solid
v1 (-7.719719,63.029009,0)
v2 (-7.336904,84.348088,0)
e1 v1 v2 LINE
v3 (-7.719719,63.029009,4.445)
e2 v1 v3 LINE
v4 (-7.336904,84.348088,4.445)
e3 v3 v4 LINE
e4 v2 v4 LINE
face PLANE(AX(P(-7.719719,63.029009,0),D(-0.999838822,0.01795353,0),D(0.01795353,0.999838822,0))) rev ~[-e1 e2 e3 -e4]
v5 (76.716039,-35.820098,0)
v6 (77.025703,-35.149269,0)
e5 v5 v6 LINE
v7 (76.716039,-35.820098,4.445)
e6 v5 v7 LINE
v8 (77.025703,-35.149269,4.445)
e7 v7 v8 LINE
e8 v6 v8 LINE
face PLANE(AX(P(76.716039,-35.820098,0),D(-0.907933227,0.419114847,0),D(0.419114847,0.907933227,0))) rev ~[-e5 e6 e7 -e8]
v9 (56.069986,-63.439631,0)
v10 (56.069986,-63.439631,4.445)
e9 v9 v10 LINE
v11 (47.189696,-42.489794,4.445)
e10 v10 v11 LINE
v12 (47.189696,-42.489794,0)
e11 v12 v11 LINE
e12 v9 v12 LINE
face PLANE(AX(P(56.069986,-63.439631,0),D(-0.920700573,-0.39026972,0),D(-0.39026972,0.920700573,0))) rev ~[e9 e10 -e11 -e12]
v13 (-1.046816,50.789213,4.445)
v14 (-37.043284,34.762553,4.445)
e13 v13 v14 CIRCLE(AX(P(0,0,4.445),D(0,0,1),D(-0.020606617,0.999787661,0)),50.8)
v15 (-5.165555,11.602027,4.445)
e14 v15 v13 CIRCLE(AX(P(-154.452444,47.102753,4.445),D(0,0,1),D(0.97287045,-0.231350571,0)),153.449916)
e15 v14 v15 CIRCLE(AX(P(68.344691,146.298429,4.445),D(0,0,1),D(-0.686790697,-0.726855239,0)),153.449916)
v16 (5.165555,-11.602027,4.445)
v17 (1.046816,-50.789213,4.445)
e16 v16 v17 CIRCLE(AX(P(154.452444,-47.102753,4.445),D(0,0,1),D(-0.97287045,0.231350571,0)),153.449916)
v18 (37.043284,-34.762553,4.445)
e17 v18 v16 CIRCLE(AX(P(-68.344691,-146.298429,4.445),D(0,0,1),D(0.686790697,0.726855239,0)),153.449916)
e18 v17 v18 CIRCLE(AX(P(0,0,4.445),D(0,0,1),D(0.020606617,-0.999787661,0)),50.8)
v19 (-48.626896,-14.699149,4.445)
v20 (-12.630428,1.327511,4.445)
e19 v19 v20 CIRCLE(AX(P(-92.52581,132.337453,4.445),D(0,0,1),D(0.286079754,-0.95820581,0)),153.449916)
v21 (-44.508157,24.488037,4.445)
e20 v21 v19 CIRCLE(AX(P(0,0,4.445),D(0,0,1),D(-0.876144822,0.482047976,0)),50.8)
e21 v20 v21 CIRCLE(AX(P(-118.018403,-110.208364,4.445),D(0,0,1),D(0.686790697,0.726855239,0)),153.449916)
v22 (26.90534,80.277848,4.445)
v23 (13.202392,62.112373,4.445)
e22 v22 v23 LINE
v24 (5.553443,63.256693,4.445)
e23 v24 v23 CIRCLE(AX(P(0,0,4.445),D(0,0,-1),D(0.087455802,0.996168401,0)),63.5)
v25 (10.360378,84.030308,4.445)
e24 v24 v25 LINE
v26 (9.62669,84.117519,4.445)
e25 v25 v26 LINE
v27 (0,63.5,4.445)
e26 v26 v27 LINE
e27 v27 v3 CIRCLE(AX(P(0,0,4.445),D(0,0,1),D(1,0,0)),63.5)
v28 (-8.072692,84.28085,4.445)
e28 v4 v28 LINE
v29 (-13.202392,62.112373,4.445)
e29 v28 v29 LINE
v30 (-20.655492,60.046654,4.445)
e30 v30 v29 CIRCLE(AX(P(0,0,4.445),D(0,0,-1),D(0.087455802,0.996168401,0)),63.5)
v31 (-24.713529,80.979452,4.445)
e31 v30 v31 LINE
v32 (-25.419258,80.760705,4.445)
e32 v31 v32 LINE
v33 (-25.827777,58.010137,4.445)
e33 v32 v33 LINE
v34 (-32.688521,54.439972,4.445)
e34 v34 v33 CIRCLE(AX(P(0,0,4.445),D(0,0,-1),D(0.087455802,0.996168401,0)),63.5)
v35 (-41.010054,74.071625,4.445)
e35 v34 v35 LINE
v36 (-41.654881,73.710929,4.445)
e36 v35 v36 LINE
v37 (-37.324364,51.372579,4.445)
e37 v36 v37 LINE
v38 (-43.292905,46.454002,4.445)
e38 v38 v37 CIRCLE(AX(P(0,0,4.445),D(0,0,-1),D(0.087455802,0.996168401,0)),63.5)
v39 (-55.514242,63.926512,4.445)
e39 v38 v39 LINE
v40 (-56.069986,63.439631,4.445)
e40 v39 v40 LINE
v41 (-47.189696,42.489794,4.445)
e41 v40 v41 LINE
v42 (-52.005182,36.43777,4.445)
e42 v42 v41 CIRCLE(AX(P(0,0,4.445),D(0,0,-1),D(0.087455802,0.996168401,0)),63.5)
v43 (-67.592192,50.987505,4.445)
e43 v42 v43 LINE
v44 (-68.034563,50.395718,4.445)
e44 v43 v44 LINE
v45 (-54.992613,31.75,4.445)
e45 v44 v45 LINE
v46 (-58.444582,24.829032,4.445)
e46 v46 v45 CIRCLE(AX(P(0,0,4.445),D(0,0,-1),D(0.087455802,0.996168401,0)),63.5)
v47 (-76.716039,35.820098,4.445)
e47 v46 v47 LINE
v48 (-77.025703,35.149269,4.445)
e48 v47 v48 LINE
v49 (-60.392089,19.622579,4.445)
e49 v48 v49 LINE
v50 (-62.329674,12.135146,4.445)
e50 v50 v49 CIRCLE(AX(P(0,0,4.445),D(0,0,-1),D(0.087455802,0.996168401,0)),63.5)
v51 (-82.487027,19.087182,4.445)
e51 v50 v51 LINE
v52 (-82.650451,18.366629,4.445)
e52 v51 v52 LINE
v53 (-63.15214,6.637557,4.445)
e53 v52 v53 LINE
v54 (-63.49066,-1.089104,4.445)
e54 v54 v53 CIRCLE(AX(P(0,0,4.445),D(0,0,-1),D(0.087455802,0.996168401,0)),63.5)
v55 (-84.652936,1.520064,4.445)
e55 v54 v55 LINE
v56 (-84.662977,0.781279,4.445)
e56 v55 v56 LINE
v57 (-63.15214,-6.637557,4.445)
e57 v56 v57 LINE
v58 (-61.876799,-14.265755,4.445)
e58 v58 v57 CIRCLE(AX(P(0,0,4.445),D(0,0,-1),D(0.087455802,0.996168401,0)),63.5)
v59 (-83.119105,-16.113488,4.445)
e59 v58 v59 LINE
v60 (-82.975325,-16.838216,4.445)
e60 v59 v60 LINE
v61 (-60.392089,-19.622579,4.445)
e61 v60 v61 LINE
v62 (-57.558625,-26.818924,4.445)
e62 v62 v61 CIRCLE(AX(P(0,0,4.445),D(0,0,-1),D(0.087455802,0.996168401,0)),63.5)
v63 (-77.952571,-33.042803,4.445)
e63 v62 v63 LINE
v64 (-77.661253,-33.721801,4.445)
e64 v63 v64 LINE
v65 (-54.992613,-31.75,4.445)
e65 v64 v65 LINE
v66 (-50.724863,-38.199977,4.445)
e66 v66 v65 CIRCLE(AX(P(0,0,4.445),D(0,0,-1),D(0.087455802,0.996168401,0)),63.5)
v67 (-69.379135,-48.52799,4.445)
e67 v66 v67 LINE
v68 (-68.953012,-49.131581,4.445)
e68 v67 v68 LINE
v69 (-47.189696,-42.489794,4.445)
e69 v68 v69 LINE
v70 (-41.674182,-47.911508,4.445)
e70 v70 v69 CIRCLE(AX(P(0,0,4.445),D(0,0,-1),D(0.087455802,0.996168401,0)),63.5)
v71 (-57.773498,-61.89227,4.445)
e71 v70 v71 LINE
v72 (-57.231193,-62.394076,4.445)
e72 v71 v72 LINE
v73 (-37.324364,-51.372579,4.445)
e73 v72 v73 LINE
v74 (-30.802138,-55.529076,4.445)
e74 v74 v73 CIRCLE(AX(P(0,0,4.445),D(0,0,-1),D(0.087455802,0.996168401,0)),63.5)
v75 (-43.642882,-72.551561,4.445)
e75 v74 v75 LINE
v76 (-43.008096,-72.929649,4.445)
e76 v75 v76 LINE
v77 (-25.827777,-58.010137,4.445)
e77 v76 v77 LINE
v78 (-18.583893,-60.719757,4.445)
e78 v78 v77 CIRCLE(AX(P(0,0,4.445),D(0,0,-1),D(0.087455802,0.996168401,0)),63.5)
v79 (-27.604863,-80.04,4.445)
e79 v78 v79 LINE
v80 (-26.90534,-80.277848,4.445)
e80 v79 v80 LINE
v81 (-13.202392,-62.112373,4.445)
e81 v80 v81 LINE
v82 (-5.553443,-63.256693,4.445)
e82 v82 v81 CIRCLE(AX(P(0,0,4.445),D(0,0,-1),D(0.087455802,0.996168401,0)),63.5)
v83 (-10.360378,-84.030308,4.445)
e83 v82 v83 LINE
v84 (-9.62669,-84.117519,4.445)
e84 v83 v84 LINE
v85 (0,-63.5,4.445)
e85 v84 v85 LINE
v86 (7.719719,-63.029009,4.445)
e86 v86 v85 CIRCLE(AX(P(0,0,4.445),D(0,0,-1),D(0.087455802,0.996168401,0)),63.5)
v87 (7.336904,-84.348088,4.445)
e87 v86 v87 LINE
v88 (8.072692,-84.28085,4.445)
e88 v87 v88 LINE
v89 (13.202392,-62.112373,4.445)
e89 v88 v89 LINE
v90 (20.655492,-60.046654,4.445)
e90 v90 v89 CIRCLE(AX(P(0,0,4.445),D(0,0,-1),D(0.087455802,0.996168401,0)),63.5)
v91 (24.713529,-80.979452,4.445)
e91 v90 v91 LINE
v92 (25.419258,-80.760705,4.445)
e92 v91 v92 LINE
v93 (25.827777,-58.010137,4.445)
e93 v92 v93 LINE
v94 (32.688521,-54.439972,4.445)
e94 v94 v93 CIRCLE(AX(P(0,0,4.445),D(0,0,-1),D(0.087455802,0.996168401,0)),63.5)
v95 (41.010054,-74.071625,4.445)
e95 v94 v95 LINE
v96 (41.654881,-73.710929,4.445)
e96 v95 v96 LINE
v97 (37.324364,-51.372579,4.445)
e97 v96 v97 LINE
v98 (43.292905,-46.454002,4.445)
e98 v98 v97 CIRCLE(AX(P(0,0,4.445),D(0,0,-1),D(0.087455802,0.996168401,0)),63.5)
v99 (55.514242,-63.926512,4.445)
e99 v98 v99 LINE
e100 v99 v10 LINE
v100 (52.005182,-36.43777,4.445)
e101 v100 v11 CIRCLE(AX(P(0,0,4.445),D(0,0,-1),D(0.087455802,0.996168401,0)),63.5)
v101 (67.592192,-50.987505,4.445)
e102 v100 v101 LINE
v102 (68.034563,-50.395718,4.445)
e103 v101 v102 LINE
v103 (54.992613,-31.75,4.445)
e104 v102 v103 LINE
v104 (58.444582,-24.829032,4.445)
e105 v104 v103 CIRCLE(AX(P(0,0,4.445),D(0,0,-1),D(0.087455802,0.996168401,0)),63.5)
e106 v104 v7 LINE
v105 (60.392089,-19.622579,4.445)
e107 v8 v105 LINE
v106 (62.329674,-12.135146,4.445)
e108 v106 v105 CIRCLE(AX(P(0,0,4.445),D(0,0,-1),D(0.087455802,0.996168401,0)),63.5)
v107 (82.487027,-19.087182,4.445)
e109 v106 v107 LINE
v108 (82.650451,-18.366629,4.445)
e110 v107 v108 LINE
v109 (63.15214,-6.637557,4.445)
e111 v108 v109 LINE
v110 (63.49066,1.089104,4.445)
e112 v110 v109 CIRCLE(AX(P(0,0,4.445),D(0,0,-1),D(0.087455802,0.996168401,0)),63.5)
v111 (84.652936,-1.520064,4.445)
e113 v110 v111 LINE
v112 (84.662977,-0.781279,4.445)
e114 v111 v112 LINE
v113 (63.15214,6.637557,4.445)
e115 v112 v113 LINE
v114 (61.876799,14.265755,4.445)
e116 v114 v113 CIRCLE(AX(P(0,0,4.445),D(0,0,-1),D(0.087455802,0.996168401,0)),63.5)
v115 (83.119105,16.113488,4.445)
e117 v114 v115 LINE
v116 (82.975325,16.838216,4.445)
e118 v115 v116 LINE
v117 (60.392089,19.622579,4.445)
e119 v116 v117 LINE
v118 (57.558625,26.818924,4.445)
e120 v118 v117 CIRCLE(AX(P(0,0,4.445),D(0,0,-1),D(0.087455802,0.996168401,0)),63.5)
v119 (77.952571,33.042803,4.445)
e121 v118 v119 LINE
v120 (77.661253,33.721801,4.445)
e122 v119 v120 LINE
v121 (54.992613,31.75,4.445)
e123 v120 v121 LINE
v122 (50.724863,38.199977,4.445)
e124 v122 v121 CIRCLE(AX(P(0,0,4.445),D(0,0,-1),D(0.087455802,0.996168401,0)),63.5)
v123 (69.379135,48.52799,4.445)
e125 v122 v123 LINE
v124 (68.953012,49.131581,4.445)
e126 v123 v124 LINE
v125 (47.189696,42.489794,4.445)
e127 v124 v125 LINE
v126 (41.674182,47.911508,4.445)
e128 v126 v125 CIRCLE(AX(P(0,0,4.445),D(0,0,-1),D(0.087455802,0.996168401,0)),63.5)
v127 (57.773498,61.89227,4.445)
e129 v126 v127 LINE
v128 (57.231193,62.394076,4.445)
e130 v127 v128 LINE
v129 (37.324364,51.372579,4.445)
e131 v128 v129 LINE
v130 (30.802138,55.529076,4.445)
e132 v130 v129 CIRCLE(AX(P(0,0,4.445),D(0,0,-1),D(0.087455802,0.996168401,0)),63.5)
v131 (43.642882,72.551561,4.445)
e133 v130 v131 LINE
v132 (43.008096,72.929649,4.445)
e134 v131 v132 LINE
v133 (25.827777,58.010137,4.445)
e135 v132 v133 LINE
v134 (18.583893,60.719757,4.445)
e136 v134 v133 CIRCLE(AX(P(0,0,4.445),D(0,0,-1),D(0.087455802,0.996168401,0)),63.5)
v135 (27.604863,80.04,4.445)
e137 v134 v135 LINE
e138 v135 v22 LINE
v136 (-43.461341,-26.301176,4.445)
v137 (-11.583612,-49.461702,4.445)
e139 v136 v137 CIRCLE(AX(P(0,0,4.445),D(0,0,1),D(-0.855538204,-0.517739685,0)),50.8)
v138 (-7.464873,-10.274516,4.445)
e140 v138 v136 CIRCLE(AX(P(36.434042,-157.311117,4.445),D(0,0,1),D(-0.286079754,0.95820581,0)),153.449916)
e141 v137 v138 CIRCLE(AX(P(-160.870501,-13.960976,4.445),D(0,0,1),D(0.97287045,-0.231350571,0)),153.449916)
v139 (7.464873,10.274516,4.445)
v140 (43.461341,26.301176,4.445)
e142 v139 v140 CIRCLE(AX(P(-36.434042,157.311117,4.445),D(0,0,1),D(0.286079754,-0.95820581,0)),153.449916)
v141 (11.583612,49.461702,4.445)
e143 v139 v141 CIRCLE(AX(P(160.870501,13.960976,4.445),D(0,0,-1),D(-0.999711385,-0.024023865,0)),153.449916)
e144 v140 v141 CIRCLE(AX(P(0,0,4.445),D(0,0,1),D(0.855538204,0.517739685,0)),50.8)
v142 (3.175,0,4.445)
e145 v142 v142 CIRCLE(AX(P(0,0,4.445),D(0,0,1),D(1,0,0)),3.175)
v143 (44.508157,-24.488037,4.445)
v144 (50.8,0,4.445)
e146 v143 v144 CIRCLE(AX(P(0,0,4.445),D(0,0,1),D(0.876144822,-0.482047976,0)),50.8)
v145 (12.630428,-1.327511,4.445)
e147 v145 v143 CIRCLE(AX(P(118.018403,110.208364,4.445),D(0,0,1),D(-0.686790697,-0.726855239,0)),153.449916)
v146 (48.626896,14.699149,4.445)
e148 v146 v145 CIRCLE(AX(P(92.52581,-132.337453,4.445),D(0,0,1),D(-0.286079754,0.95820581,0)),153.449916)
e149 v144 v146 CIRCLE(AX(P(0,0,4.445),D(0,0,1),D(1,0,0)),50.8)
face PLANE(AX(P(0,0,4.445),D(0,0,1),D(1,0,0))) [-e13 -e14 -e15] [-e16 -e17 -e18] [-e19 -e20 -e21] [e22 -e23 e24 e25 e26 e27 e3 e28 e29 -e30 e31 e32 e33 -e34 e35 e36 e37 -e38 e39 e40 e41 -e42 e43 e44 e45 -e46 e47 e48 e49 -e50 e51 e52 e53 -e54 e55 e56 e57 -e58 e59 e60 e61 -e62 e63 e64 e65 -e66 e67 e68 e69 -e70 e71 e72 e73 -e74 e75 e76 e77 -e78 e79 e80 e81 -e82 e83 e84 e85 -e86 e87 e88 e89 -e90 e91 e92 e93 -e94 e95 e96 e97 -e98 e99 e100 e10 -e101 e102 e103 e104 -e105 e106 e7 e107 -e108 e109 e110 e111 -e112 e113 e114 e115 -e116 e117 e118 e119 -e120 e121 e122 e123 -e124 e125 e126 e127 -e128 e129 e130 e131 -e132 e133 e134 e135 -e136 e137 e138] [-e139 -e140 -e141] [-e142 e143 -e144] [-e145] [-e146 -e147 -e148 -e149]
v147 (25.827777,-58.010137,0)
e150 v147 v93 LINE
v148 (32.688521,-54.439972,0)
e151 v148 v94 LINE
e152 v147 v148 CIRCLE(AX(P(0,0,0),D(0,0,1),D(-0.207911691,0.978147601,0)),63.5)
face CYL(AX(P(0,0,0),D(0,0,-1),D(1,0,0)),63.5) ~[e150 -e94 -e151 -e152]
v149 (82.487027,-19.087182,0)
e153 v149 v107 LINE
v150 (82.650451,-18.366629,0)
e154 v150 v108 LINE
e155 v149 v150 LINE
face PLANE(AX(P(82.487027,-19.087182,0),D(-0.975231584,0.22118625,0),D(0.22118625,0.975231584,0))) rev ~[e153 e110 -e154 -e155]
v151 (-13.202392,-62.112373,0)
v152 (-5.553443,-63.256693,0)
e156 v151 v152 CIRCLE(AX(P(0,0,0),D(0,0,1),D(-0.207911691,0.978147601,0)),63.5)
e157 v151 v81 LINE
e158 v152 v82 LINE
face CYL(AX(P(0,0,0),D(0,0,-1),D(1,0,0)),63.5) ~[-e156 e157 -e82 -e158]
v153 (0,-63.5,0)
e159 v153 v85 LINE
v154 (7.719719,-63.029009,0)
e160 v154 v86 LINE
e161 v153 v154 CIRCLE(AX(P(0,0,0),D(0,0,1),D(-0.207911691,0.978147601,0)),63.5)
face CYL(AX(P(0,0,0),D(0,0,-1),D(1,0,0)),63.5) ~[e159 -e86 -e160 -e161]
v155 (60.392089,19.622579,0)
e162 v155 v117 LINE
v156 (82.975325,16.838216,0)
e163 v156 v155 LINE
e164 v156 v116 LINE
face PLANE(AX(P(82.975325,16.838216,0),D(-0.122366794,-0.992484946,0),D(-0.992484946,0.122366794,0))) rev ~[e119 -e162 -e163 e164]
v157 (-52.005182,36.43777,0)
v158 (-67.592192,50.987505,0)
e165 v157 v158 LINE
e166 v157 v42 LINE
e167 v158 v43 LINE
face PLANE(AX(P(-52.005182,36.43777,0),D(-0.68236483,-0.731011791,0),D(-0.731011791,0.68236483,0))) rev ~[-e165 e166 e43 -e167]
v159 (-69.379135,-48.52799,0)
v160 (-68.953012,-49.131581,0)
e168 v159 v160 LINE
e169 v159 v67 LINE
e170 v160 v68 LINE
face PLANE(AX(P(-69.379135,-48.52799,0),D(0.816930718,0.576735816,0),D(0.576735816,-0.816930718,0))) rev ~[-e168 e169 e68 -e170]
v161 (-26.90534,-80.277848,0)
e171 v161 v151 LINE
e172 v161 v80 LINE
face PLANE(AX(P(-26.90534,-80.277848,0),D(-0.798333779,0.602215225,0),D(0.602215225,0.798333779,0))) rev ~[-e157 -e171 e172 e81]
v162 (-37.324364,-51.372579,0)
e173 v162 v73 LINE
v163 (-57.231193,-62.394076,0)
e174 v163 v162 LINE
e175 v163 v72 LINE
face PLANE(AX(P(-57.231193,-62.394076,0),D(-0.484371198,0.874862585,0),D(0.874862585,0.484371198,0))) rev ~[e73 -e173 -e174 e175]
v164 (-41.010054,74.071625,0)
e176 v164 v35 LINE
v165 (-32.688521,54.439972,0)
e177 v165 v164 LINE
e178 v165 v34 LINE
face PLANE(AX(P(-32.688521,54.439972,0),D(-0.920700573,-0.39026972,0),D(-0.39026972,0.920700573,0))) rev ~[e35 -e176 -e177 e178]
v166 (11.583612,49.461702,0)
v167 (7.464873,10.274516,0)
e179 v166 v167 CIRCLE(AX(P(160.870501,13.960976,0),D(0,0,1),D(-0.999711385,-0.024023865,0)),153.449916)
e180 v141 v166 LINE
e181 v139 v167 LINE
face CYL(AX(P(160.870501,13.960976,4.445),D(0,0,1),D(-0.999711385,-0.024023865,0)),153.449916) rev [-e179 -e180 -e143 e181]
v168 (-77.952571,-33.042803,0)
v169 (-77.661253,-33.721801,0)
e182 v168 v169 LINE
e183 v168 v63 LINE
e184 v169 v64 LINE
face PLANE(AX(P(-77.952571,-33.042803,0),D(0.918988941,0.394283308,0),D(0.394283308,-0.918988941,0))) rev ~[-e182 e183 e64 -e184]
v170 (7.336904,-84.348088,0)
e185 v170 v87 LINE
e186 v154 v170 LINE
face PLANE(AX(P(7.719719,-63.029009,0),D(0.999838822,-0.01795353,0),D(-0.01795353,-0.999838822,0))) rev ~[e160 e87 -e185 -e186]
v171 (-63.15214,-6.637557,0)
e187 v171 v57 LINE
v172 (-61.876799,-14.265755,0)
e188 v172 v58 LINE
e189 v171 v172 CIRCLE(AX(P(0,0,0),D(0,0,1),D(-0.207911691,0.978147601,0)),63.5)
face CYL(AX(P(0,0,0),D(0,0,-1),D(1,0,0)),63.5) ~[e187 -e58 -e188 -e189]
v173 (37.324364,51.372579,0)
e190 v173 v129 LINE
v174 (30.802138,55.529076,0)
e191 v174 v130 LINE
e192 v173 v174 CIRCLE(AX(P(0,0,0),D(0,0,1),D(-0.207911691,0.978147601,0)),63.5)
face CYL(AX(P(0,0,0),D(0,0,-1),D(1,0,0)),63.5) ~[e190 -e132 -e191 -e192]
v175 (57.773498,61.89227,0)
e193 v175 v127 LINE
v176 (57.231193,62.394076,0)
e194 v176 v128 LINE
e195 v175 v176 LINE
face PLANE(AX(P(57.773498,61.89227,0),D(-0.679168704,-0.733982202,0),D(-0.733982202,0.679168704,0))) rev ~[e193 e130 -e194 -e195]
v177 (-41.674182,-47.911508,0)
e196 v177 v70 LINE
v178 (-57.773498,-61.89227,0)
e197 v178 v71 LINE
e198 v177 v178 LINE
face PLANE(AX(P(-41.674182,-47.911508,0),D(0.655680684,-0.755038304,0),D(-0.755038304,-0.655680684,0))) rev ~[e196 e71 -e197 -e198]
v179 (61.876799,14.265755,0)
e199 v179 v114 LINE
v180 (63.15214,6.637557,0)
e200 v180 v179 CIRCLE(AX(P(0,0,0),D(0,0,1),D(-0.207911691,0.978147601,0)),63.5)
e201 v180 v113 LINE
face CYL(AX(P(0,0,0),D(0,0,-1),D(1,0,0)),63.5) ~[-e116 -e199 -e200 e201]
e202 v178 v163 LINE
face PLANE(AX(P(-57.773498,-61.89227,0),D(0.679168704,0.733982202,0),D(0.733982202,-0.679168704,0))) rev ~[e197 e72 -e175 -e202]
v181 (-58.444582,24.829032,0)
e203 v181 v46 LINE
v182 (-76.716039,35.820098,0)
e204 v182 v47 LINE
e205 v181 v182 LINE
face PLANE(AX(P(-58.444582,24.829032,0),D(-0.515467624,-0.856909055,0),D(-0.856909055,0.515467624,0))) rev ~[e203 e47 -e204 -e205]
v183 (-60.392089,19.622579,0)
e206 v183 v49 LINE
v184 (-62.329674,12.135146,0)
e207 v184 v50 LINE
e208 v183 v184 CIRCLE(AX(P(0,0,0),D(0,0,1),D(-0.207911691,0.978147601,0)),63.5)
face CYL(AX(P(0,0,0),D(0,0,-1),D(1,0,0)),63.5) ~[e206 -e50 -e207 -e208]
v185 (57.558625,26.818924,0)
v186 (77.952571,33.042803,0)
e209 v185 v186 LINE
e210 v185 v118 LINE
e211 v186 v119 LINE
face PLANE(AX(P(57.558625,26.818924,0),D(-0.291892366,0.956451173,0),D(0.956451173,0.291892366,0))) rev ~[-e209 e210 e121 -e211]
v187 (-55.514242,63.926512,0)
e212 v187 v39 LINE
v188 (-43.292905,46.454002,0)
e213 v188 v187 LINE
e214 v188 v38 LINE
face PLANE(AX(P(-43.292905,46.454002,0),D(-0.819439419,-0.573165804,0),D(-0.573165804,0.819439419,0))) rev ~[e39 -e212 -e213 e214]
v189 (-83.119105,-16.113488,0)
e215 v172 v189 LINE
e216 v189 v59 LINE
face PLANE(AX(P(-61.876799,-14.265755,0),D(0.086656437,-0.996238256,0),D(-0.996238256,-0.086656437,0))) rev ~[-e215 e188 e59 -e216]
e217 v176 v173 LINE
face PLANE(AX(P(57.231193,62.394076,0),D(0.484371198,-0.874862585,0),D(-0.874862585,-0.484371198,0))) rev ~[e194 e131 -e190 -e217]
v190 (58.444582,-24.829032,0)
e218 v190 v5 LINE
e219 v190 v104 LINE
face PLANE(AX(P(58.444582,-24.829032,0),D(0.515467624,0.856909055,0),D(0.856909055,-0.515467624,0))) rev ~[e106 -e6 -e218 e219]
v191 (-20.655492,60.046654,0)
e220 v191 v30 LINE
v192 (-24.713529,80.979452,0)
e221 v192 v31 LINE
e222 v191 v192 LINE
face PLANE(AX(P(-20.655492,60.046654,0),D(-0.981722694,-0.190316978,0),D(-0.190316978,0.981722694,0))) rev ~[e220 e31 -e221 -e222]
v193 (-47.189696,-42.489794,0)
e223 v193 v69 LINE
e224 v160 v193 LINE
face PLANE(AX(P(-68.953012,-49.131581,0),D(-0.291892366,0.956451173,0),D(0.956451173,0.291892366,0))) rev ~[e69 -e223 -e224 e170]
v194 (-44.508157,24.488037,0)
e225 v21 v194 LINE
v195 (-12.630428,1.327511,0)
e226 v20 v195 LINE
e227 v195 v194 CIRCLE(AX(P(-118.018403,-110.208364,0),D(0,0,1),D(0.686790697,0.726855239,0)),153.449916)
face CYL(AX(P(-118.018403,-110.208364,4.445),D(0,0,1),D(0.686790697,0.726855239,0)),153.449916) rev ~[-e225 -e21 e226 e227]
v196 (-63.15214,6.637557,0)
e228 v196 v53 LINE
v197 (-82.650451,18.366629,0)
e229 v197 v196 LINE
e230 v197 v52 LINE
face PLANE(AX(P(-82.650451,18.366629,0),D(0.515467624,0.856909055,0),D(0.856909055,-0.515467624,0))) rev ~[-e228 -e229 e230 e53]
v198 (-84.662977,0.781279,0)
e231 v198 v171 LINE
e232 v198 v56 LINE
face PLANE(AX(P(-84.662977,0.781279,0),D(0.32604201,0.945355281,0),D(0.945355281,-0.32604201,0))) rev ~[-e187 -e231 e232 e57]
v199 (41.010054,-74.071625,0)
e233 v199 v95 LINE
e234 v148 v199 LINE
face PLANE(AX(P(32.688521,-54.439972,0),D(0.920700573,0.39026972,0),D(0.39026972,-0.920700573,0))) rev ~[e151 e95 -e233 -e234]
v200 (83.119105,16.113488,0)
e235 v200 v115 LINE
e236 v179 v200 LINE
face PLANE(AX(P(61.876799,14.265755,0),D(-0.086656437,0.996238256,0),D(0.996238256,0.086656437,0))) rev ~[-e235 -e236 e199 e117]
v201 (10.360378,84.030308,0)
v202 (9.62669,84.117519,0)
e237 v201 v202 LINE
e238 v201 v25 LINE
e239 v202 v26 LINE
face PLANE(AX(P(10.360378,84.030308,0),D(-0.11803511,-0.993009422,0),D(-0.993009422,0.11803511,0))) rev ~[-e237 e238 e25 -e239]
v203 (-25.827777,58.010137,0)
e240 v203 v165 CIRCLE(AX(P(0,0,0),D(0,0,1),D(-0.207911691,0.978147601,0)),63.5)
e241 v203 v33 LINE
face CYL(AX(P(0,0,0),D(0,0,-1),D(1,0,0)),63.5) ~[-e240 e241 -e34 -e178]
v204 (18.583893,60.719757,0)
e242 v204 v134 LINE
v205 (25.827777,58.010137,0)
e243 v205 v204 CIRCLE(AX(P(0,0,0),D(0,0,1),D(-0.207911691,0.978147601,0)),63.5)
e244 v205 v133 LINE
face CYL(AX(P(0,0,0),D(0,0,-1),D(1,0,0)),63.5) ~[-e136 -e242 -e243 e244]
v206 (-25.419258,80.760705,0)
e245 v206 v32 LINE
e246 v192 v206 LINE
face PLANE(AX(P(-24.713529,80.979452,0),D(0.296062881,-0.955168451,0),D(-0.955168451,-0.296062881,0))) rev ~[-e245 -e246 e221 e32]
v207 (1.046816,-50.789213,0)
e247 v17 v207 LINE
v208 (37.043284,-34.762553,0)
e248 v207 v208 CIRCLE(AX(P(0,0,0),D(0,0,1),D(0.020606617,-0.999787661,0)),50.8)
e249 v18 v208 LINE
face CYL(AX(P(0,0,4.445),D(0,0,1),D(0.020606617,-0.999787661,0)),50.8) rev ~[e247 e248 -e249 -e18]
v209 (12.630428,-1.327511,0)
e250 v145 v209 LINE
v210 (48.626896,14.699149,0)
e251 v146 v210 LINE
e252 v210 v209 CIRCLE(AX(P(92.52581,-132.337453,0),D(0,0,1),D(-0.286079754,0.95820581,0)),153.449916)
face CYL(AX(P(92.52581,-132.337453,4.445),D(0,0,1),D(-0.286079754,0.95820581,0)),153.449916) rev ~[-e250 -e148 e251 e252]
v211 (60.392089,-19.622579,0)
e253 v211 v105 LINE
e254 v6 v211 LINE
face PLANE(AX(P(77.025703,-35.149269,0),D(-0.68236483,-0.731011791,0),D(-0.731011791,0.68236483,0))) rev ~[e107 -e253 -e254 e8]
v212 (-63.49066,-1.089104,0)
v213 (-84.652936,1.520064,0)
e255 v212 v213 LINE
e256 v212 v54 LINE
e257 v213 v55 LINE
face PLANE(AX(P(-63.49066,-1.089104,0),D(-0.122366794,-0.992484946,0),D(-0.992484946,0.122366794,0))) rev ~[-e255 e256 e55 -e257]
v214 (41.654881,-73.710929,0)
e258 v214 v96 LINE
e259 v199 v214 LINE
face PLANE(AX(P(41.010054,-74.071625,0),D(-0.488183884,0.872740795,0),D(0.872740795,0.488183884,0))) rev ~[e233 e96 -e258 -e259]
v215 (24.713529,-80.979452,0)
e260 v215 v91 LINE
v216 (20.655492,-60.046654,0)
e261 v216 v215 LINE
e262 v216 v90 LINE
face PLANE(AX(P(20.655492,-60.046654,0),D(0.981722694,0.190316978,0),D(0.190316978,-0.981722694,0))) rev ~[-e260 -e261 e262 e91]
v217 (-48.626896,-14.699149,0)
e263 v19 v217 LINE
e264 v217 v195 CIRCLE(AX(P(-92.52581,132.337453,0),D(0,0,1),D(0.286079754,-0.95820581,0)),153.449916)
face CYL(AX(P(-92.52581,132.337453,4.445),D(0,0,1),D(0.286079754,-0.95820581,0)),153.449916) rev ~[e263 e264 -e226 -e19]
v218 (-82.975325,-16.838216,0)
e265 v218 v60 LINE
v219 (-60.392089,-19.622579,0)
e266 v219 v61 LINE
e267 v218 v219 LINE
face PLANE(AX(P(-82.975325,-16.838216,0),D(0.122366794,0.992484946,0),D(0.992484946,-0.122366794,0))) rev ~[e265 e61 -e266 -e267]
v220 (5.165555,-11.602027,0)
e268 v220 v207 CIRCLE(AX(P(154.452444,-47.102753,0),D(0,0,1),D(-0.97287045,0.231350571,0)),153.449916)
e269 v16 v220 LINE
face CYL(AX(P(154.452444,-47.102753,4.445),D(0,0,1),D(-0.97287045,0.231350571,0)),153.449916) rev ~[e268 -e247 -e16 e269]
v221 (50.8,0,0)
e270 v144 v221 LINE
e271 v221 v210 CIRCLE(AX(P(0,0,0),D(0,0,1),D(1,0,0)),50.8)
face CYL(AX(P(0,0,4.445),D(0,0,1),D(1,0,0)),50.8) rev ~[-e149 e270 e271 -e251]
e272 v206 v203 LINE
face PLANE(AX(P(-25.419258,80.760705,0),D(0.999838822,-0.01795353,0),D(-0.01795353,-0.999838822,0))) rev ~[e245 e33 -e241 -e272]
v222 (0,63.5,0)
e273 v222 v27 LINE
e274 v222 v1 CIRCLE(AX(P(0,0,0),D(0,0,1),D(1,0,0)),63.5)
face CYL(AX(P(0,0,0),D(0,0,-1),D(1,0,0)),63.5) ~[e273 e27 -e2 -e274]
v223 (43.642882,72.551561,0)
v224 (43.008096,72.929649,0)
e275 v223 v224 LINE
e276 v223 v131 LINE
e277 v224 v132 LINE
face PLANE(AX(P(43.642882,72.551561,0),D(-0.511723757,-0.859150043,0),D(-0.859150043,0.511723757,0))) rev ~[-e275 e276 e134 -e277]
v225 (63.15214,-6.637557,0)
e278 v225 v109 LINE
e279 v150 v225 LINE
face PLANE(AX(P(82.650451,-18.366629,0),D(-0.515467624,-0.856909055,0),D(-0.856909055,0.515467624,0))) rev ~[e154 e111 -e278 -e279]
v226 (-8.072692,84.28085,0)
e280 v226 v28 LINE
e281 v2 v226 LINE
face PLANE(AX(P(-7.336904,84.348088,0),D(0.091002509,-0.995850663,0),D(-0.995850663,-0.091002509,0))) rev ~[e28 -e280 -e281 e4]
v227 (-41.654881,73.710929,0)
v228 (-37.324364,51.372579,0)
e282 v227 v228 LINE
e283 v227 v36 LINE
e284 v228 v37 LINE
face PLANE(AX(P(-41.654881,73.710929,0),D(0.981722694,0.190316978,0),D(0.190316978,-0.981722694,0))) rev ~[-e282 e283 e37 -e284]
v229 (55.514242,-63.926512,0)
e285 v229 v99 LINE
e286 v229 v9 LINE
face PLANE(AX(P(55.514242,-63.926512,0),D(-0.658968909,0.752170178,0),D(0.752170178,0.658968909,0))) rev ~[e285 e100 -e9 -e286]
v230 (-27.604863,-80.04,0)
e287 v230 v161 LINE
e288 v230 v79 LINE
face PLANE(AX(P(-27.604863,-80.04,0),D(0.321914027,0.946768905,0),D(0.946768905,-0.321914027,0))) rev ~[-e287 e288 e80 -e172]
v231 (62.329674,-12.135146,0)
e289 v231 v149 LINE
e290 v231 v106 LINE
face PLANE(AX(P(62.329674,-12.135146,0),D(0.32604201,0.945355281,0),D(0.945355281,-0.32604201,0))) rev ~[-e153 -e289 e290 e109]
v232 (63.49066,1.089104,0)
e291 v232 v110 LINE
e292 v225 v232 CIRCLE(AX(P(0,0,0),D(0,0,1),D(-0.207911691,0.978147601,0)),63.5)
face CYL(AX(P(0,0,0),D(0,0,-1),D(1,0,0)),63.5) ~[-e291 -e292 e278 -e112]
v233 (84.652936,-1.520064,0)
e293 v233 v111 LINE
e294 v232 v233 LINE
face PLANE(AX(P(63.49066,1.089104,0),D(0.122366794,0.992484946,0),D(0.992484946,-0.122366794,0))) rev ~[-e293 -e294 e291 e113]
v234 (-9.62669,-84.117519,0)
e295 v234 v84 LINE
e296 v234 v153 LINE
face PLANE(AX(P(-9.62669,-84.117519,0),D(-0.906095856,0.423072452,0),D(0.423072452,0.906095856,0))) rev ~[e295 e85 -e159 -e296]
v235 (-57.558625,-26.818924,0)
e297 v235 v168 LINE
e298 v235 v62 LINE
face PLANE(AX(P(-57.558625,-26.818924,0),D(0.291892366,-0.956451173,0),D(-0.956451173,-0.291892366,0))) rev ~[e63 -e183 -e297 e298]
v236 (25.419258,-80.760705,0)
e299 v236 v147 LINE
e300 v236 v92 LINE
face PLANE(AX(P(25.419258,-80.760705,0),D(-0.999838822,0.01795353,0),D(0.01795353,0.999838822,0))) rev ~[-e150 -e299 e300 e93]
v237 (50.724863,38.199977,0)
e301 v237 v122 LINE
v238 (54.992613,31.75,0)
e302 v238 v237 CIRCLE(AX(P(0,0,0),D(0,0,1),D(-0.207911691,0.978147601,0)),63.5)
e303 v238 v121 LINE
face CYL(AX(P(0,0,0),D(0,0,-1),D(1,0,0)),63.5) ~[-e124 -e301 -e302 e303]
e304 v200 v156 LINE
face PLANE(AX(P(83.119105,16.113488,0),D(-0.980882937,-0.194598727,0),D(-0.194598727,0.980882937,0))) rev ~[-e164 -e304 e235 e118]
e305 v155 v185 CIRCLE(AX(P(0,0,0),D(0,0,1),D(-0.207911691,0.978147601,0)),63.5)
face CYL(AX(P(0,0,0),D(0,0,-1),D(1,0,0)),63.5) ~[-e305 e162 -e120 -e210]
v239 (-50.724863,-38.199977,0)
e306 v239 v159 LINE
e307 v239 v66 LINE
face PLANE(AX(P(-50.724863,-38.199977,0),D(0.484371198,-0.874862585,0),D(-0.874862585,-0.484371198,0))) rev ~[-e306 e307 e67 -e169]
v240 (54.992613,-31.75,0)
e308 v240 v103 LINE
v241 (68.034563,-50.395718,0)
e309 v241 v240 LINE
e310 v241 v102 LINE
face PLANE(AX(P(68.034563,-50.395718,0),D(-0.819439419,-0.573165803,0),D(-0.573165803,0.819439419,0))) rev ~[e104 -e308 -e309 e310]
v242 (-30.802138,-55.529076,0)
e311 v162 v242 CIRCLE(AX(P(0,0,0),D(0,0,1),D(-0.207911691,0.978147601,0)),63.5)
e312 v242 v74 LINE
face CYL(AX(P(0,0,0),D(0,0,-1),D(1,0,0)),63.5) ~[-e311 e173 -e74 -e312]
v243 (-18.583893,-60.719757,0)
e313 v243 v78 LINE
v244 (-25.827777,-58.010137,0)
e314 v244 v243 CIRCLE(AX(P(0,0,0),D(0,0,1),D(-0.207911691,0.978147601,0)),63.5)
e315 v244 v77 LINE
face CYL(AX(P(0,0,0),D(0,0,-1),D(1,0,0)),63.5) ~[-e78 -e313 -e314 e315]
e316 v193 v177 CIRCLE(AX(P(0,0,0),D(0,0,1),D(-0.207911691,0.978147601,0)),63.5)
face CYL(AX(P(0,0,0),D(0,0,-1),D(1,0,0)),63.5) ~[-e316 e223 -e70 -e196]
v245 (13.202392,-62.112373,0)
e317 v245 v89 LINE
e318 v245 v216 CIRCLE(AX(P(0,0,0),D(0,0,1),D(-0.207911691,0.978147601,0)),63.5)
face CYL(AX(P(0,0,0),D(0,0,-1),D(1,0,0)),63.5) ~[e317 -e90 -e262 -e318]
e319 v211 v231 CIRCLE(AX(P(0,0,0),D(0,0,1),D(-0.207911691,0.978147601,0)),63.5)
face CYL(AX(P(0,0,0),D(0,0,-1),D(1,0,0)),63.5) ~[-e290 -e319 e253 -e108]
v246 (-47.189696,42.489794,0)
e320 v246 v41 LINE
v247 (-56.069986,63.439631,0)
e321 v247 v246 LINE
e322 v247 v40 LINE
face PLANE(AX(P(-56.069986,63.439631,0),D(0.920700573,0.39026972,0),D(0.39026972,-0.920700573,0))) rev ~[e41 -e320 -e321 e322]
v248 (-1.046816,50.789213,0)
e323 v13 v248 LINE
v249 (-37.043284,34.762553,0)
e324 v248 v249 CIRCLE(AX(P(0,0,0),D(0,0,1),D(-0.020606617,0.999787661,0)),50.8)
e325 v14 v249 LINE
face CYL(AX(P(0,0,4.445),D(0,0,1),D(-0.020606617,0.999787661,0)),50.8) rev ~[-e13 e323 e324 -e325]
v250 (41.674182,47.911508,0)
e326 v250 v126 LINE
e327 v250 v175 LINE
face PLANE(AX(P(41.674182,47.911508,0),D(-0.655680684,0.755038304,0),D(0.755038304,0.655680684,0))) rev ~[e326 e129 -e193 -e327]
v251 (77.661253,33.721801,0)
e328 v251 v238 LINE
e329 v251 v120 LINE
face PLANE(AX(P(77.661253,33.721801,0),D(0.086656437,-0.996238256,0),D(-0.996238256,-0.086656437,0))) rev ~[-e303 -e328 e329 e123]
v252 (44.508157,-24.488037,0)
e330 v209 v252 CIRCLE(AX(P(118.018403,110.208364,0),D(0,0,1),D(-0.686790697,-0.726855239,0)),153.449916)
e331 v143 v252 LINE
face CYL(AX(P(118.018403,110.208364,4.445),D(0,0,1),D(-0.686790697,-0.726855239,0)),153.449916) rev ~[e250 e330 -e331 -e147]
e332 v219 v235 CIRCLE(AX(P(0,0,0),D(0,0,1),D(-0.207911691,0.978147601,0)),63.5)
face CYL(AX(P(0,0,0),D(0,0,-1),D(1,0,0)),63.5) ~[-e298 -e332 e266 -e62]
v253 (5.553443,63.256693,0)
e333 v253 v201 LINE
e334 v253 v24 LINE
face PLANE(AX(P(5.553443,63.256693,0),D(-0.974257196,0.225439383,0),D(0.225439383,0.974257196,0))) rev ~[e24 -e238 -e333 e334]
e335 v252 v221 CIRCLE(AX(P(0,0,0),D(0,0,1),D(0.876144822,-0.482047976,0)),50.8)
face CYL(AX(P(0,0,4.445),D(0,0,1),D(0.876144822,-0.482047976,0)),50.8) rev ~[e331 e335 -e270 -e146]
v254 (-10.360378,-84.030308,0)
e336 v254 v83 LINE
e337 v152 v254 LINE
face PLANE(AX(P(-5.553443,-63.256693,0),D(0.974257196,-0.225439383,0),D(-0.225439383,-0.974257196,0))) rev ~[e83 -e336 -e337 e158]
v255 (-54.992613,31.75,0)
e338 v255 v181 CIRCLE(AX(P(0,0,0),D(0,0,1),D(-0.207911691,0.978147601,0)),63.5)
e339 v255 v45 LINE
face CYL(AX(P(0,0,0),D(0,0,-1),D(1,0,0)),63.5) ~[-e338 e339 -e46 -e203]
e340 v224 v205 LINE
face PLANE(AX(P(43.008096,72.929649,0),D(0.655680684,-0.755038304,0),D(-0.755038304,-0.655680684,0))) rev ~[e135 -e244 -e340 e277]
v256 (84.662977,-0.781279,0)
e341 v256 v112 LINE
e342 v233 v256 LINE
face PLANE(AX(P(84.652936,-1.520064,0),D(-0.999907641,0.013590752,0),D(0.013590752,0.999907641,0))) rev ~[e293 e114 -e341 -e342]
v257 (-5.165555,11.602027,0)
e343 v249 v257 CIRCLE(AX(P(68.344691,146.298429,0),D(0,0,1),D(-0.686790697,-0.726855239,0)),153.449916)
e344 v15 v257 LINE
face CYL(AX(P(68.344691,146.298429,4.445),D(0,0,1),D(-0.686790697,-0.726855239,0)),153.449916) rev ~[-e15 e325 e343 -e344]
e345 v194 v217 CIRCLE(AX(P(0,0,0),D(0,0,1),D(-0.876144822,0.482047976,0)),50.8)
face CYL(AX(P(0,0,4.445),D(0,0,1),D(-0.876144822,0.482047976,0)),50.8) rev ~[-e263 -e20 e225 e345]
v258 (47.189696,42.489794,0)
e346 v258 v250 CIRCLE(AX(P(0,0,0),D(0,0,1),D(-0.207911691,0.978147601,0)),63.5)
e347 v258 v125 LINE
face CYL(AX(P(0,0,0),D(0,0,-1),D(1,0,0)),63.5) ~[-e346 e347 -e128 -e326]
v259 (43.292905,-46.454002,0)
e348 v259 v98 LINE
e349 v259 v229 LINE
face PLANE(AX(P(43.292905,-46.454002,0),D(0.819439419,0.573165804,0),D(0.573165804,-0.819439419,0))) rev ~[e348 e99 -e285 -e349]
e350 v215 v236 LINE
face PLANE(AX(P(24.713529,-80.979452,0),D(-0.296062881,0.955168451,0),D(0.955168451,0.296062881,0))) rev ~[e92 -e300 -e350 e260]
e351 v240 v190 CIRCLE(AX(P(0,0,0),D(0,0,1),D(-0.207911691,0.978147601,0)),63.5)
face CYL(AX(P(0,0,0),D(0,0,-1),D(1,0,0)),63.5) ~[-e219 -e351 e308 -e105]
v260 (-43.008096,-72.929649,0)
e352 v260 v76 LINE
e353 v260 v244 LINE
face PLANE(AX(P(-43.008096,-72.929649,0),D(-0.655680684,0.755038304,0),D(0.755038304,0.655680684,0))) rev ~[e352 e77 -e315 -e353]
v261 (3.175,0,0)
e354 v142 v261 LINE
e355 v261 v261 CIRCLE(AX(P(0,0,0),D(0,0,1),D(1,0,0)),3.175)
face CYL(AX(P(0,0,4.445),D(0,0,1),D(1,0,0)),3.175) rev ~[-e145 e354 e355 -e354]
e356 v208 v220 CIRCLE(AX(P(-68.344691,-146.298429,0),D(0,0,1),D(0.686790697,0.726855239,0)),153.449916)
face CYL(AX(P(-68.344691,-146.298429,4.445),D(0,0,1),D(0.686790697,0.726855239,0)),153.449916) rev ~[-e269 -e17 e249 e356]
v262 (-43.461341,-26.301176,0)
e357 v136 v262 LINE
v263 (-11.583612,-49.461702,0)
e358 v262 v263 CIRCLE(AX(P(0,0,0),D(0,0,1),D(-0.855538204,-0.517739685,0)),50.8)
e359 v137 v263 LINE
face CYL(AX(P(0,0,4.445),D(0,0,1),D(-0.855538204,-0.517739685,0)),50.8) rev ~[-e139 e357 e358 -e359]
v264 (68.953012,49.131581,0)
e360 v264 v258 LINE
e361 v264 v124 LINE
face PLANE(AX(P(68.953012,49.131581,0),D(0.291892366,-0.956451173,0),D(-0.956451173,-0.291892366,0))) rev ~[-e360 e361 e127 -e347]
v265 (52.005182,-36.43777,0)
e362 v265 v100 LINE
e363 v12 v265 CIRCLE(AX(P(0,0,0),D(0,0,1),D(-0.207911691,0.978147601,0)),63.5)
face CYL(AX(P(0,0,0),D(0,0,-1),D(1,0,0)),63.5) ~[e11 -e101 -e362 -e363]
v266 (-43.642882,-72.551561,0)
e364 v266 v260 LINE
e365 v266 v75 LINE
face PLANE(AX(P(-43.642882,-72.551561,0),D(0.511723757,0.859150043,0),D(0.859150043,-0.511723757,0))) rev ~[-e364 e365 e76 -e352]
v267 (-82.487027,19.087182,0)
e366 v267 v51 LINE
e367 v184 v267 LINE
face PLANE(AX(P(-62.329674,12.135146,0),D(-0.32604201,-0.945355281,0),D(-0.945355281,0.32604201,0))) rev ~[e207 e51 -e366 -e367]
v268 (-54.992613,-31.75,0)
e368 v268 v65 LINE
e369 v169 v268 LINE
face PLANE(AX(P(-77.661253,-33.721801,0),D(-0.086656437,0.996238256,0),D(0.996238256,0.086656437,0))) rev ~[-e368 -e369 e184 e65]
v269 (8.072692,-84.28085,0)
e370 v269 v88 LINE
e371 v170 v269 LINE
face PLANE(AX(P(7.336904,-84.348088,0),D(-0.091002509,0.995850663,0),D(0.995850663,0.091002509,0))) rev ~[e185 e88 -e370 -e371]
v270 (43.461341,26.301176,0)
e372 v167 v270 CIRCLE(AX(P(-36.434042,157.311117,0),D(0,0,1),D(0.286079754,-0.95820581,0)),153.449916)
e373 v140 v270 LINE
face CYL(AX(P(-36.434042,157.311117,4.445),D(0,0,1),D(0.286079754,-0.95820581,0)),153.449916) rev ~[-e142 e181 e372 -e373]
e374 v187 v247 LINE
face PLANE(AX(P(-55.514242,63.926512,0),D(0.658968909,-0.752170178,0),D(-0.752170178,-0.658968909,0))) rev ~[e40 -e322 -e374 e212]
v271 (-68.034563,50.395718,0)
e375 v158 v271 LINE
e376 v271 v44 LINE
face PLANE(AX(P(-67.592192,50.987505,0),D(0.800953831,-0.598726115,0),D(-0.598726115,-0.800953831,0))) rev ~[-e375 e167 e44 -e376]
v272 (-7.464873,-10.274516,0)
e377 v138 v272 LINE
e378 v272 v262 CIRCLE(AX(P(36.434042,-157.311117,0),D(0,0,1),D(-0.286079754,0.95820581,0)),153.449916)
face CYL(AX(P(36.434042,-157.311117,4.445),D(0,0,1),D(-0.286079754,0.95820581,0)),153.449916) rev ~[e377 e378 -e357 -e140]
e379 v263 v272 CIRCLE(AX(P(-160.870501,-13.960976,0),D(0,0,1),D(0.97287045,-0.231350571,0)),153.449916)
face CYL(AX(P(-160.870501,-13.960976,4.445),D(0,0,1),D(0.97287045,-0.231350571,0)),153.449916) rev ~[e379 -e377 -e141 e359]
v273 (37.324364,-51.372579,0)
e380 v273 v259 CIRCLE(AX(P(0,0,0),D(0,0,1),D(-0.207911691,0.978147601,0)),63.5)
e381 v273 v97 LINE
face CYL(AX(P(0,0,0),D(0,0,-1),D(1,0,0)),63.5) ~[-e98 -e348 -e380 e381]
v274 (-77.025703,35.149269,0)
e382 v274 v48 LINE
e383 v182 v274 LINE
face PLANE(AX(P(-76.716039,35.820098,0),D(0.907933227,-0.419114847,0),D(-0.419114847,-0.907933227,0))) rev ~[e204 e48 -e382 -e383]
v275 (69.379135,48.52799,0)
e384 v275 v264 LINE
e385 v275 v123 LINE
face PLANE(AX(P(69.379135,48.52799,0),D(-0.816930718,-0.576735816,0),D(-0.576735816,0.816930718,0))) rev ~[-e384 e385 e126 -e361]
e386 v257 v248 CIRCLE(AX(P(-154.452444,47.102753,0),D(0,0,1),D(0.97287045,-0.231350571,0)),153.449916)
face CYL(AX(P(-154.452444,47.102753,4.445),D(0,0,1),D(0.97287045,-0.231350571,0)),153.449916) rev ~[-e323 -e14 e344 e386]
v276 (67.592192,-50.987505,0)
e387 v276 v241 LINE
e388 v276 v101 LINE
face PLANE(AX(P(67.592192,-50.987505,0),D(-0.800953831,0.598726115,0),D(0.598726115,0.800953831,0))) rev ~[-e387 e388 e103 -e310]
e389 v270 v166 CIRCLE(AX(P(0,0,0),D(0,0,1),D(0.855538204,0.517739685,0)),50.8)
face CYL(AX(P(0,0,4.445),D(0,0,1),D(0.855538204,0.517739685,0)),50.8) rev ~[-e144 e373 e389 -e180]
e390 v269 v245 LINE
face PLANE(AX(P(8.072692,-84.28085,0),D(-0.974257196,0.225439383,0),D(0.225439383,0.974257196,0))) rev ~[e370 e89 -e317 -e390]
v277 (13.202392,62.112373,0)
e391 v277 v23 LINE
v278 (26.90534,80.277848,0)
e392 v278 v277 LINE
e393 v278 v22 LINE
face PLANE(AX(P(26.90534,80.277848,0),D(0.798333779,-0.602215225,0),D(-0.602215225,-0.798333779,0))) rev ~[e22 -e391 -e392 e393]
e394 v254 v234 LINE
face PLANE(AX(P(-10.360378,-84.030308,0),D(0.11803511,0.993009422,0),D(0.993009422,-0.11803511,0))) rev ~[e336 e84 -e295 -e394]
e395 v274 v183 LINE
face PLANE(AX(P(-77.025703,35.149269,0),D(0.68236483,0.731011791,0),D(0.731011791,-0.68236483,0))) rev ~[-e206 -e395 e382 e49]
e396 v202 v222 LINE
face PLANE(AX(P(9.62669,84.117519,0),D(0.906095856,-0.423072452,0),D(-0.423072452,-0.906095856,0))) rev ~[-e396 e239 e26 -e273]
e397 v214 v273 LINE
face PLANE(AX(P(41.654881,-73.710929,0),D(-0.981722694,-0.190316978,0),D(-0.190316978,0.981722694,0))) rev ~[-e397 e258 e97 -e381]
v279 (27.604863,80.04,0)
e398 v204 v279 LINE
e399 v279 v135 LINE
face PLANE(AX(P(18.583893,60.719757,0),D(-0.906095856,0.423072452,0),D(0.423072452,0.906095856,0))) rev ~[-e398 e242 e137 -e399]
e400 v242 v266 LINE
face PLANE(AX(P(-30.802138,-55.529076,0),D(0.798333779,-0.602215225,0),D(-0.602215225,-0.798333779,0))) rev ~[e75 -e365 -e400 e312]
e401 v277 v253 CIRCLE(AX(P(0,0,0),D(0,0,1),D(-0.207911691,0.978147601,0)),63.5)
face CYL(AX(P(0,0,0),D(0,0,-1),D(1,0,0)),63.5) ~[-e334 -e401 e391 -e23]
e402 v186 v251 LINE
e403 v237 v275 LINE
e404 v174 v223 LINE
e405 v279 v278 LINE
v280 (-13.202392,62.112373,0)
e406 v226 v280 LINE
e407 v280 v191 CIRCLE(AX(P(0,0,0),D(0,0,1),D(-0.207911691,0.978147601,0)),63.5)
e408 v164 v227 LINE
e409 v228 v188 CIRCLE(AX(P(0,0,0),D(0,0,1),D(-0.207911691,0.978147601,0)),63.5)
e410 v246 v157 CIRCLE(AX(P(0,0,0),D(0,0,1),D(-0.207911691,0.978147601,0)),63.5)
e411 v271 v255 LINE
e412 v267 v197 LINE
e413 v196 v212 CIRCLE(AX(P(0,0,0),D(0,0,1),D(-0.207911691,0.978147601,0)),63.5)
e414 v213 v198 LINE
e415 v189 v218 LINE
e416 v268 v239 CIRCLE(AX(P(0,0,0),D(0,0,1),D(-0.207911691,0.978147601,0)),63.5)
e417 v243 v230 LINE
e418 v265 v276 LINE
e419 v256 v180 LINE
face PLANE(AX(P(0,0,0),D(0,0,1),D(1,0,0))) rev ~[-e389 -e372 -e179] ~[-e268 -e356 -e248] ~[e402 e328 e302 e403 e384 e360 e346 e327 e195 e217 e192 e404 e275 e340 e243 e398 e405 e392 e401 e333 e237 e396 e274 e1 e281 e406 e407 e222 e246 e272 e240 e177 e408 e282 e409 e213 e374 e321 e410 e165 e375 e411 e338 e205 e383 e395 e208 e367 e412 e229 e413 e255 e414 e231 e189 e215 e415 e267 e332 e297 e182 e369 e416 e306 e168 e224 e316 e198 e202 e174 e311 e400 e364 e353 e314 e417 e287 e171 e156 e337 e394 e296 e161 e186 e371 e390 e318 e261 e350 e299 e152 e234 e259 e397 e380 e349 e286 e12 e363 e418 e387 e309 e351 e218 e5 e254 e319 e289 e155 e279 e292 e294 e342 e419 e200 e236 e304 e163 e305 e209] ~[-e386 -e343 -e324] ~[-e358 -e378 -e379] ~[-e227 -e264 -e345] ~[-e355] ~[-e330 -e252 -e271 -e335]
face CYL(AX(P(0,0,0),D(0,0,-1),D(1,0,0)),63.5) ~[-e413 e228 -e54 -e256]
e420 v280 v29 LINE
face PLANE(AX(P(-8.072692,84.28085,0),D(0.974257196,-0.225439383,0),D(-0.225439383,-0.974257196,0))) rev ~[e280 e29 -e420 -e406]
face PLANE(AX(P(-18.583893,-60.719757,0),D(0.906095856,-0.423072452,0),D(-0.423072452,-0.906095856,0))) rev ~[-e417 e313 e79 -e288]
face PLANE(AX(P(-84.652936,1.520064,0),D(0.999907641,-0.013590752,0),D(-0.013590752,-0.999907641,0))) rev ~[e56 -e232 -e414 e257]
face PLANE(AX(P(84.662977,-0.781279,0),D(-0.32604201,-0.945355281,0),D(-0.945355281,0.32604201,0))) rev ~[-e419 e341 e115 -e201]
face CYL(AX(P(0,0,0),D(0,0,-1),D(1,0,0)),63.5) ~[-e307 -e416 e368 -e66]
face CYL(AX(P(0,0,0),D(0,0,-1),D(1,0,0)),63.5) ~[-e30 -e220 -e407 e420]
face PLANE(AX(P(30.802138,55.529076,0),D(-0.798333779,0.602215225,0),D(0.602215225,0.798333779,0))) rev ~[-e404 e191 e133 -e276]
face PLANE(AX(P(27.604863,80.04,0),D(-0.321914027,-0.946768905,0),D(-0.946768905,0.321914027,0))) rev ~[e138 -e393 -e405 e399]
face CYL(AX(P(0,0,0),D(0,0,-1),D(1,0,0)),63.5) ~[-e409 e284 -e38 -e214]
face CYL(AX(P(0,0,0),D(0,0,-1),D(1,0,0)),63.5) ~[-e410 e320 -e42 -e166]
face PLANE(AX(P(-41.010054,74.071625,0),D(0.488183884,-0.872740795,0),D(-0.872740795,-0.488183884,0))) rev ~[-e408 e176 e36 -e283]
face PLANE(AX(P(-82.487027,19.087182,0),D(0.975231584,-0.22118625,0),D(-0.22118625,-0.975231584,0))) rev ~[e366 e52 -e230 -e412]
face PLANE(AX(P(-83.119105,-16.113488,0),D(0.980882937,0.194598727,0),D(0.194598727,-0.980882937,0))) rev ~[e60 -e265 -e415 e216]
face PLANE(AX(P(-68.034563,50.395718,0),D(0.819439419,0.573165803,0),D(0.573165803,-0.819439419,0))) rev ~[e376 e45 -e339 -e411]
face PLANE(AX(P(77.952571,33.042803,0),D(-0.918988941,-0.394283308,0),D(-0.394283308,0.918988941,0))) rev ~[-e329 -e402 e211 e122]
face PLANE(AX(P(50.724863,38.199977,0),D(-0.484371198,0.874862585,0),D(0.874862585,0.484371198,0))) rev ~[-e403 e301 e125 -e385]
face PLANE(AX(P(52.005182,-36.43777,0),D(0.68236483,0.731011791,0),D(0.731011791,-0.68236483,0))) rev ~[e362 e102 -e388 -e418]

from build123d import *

# Parameters (mm, degrees)
SKETCH1_R           = 63.5
BOSS_EXTRUDE1_DEPTH = 4.445
BOSS_EXTRUDE2_START = -4.445
BOSS_EXTRUDE2_DEPTH = 4.445
CIRPATTERN1_COUNT   = 30
SKETCH3_R           = 3.175
CUT_EXTRUDE1_DEPTH  = 120.591712413
CUT_EXTRUDE2_DEPTH  = 120.591712413


with BuildPart() as part:
    # Sketch1 → Boss-Extrude1 (new body)
    with BuildSketch(Plane.XY):
        Circle(SKETCH1_R)
    extrude(amount=BOSS_EXTRUDE1_DEPTH)

    # Sketch2 → Boss-Extrude2 (add)
    with BuildSketch(Plane.XY.offset(4.445).offset(BOSS_EXTRUDE2_START)):
        with BuildLine():
            Line((9.626690277, 84.117518638), (0, 63.5))
            ThreePointArc((0, 63.5), (2.779385353, 63.439144202), (5.553443409, 63.256693451))
            Line((5.553443409, 63.256693451), (10.360378235, 84.030308047))
            Line((10.360378235, 84.030308047), (9.626690277, 84.117518638))
        make_face()
    boss_extrude2 = extrude(amount=BOSS_EXTRUDE2_DEPTH)

    # CirPattern1: Boss-Extrude2 ×30 about axis
    cirpattern1_axis = Axis((0, 0, 0), (0, 0, 1))
    for i in range(1, CIRPATTERN1_COUNT):
        add(boss_extrude2.rotate(cirpattern1_axis, i * 360 / CIRPATTERN1_COUNT))

    # Sketch3 → Cut-Extrude1 (cut, through all)
    with BuildSketch(Plane.XY.offset(4.445)):
        Circle(SKETCH3_R)
    extrude(amount=-CUT_EXTRUDE1_DEPTH, mode=Mode.SUBTRACT)

    # Sketch4 → Cut-Extrude2 (cut, through all)
    with BuildSketch(Plane.XY.offset(4.445)):
        with BuildLine():
            Line((-5.165555367, 11.602027312), (-1.046816164, 50.789213185))
            ThreePointArc((-1.046816164, 50.789213185), (-20.662221468, 46.408109248), (-37.043284234, 34.76255303))
            ThreePointArc((-37.043284234, 34.76255303), (-21.850907071, 22.154838588), (-5.165555367, 11.602027312))
        make_face()
        with BuildLine():
            ThreePointArc((-48.626896141, -14.699148671), (-30.11210657, -7.846021325), (-12.630428071, 1.327511483))
            ThreePointArc((-12.630428071, 1.327511483), (-27.822805234, 13.935225925), (-44.508156938, 24.488037201))
            ThreePointArc((-44.508156938, 24.488037201), (-50.521712285, 5.310045934), (-48.626896141, -14.699148671))
        make_face()
        with BuildLine():
            ThreePointArc((-11.583611907, -49.461701701), (-8.261199499, -30.000859913), (-7.464872704, -10.274515829))
            ThreePointArc((-7.464872704, -10.274515829), (-25.979662276, -17.127643175), (-43.461340774, -26.301175983))
            ThreePointArc((-43.461340774, -26.301175983), (-29.859490816, -41.098063314), (-11.583611907, -49.461701701))
        make_face()
        with BuildLine():
            ThreePointArc((37.043284234, -34.76255303), (21.850907071, -22.154838588), (5.165555367, -11.602027312))
            ThreePointArc((5.165555367, -11.602027312), (1.843142958, -31.0628691), (1.046816164, -50.789213185))
            ThreePointArc((1.046816164, -50.789213185), (20.662221468, -46.408109248), (37.043284234, -34.76255303))
        make_face()
        with BuildLine():
            ThreePointArc((48.626896141, 14.699148671), (30.11210657, 7.846021325), (12.630428071, -1.327511483))
            ThreePointArc((12.630428071, -1.327511483), (27.822805234, -13.935225925), (44.508156938, -24.488037201))
            ThreePointArc((44.508156938, -24.488037201), (49.201902262, -12.64170929), (50.8, 0))
            ThreePointArc((50.8, 0), (50.253787539, 7.429457451), (48.626896141, 14.699148671))
        make_face()
        with BuildLine():
            ThreePointArc((43.461340774, 26.301175983), (29.859490816, 41.098063314), (11.583611907, 49.461701701))
            Line((11.583611907, 49.461701701), (7.464872704, 10.274515829))
            ThreePointArc((7.464872704, 10.274515829), (25.979662276, 17.127643175), (43.461340774, 26.301175983))
        make_face()
        with BuildLine():
            Line((-1.046816164, 50.789213185), (-5.165555367, 11.602027312))
            ThreePointArc((-5.165555367, 11.602027312), (-1.843142958, 31.0628691), (-1.046816164, 50.789213185))
        make_face()
        with BuildLine():
            ThreePointArc((7.464872704, 10.274515829), (8.261199499, 30.000859913), (11.583611907, 49.461701701))
            Line((11.583611907, 49.461701701), (7.464872704, 10.274515829))
        make_face()
    extrude(amount=-CUT_EXTRUDE2_DEPTH, mode=Mode.SUBTRACT)


solid = part.part
